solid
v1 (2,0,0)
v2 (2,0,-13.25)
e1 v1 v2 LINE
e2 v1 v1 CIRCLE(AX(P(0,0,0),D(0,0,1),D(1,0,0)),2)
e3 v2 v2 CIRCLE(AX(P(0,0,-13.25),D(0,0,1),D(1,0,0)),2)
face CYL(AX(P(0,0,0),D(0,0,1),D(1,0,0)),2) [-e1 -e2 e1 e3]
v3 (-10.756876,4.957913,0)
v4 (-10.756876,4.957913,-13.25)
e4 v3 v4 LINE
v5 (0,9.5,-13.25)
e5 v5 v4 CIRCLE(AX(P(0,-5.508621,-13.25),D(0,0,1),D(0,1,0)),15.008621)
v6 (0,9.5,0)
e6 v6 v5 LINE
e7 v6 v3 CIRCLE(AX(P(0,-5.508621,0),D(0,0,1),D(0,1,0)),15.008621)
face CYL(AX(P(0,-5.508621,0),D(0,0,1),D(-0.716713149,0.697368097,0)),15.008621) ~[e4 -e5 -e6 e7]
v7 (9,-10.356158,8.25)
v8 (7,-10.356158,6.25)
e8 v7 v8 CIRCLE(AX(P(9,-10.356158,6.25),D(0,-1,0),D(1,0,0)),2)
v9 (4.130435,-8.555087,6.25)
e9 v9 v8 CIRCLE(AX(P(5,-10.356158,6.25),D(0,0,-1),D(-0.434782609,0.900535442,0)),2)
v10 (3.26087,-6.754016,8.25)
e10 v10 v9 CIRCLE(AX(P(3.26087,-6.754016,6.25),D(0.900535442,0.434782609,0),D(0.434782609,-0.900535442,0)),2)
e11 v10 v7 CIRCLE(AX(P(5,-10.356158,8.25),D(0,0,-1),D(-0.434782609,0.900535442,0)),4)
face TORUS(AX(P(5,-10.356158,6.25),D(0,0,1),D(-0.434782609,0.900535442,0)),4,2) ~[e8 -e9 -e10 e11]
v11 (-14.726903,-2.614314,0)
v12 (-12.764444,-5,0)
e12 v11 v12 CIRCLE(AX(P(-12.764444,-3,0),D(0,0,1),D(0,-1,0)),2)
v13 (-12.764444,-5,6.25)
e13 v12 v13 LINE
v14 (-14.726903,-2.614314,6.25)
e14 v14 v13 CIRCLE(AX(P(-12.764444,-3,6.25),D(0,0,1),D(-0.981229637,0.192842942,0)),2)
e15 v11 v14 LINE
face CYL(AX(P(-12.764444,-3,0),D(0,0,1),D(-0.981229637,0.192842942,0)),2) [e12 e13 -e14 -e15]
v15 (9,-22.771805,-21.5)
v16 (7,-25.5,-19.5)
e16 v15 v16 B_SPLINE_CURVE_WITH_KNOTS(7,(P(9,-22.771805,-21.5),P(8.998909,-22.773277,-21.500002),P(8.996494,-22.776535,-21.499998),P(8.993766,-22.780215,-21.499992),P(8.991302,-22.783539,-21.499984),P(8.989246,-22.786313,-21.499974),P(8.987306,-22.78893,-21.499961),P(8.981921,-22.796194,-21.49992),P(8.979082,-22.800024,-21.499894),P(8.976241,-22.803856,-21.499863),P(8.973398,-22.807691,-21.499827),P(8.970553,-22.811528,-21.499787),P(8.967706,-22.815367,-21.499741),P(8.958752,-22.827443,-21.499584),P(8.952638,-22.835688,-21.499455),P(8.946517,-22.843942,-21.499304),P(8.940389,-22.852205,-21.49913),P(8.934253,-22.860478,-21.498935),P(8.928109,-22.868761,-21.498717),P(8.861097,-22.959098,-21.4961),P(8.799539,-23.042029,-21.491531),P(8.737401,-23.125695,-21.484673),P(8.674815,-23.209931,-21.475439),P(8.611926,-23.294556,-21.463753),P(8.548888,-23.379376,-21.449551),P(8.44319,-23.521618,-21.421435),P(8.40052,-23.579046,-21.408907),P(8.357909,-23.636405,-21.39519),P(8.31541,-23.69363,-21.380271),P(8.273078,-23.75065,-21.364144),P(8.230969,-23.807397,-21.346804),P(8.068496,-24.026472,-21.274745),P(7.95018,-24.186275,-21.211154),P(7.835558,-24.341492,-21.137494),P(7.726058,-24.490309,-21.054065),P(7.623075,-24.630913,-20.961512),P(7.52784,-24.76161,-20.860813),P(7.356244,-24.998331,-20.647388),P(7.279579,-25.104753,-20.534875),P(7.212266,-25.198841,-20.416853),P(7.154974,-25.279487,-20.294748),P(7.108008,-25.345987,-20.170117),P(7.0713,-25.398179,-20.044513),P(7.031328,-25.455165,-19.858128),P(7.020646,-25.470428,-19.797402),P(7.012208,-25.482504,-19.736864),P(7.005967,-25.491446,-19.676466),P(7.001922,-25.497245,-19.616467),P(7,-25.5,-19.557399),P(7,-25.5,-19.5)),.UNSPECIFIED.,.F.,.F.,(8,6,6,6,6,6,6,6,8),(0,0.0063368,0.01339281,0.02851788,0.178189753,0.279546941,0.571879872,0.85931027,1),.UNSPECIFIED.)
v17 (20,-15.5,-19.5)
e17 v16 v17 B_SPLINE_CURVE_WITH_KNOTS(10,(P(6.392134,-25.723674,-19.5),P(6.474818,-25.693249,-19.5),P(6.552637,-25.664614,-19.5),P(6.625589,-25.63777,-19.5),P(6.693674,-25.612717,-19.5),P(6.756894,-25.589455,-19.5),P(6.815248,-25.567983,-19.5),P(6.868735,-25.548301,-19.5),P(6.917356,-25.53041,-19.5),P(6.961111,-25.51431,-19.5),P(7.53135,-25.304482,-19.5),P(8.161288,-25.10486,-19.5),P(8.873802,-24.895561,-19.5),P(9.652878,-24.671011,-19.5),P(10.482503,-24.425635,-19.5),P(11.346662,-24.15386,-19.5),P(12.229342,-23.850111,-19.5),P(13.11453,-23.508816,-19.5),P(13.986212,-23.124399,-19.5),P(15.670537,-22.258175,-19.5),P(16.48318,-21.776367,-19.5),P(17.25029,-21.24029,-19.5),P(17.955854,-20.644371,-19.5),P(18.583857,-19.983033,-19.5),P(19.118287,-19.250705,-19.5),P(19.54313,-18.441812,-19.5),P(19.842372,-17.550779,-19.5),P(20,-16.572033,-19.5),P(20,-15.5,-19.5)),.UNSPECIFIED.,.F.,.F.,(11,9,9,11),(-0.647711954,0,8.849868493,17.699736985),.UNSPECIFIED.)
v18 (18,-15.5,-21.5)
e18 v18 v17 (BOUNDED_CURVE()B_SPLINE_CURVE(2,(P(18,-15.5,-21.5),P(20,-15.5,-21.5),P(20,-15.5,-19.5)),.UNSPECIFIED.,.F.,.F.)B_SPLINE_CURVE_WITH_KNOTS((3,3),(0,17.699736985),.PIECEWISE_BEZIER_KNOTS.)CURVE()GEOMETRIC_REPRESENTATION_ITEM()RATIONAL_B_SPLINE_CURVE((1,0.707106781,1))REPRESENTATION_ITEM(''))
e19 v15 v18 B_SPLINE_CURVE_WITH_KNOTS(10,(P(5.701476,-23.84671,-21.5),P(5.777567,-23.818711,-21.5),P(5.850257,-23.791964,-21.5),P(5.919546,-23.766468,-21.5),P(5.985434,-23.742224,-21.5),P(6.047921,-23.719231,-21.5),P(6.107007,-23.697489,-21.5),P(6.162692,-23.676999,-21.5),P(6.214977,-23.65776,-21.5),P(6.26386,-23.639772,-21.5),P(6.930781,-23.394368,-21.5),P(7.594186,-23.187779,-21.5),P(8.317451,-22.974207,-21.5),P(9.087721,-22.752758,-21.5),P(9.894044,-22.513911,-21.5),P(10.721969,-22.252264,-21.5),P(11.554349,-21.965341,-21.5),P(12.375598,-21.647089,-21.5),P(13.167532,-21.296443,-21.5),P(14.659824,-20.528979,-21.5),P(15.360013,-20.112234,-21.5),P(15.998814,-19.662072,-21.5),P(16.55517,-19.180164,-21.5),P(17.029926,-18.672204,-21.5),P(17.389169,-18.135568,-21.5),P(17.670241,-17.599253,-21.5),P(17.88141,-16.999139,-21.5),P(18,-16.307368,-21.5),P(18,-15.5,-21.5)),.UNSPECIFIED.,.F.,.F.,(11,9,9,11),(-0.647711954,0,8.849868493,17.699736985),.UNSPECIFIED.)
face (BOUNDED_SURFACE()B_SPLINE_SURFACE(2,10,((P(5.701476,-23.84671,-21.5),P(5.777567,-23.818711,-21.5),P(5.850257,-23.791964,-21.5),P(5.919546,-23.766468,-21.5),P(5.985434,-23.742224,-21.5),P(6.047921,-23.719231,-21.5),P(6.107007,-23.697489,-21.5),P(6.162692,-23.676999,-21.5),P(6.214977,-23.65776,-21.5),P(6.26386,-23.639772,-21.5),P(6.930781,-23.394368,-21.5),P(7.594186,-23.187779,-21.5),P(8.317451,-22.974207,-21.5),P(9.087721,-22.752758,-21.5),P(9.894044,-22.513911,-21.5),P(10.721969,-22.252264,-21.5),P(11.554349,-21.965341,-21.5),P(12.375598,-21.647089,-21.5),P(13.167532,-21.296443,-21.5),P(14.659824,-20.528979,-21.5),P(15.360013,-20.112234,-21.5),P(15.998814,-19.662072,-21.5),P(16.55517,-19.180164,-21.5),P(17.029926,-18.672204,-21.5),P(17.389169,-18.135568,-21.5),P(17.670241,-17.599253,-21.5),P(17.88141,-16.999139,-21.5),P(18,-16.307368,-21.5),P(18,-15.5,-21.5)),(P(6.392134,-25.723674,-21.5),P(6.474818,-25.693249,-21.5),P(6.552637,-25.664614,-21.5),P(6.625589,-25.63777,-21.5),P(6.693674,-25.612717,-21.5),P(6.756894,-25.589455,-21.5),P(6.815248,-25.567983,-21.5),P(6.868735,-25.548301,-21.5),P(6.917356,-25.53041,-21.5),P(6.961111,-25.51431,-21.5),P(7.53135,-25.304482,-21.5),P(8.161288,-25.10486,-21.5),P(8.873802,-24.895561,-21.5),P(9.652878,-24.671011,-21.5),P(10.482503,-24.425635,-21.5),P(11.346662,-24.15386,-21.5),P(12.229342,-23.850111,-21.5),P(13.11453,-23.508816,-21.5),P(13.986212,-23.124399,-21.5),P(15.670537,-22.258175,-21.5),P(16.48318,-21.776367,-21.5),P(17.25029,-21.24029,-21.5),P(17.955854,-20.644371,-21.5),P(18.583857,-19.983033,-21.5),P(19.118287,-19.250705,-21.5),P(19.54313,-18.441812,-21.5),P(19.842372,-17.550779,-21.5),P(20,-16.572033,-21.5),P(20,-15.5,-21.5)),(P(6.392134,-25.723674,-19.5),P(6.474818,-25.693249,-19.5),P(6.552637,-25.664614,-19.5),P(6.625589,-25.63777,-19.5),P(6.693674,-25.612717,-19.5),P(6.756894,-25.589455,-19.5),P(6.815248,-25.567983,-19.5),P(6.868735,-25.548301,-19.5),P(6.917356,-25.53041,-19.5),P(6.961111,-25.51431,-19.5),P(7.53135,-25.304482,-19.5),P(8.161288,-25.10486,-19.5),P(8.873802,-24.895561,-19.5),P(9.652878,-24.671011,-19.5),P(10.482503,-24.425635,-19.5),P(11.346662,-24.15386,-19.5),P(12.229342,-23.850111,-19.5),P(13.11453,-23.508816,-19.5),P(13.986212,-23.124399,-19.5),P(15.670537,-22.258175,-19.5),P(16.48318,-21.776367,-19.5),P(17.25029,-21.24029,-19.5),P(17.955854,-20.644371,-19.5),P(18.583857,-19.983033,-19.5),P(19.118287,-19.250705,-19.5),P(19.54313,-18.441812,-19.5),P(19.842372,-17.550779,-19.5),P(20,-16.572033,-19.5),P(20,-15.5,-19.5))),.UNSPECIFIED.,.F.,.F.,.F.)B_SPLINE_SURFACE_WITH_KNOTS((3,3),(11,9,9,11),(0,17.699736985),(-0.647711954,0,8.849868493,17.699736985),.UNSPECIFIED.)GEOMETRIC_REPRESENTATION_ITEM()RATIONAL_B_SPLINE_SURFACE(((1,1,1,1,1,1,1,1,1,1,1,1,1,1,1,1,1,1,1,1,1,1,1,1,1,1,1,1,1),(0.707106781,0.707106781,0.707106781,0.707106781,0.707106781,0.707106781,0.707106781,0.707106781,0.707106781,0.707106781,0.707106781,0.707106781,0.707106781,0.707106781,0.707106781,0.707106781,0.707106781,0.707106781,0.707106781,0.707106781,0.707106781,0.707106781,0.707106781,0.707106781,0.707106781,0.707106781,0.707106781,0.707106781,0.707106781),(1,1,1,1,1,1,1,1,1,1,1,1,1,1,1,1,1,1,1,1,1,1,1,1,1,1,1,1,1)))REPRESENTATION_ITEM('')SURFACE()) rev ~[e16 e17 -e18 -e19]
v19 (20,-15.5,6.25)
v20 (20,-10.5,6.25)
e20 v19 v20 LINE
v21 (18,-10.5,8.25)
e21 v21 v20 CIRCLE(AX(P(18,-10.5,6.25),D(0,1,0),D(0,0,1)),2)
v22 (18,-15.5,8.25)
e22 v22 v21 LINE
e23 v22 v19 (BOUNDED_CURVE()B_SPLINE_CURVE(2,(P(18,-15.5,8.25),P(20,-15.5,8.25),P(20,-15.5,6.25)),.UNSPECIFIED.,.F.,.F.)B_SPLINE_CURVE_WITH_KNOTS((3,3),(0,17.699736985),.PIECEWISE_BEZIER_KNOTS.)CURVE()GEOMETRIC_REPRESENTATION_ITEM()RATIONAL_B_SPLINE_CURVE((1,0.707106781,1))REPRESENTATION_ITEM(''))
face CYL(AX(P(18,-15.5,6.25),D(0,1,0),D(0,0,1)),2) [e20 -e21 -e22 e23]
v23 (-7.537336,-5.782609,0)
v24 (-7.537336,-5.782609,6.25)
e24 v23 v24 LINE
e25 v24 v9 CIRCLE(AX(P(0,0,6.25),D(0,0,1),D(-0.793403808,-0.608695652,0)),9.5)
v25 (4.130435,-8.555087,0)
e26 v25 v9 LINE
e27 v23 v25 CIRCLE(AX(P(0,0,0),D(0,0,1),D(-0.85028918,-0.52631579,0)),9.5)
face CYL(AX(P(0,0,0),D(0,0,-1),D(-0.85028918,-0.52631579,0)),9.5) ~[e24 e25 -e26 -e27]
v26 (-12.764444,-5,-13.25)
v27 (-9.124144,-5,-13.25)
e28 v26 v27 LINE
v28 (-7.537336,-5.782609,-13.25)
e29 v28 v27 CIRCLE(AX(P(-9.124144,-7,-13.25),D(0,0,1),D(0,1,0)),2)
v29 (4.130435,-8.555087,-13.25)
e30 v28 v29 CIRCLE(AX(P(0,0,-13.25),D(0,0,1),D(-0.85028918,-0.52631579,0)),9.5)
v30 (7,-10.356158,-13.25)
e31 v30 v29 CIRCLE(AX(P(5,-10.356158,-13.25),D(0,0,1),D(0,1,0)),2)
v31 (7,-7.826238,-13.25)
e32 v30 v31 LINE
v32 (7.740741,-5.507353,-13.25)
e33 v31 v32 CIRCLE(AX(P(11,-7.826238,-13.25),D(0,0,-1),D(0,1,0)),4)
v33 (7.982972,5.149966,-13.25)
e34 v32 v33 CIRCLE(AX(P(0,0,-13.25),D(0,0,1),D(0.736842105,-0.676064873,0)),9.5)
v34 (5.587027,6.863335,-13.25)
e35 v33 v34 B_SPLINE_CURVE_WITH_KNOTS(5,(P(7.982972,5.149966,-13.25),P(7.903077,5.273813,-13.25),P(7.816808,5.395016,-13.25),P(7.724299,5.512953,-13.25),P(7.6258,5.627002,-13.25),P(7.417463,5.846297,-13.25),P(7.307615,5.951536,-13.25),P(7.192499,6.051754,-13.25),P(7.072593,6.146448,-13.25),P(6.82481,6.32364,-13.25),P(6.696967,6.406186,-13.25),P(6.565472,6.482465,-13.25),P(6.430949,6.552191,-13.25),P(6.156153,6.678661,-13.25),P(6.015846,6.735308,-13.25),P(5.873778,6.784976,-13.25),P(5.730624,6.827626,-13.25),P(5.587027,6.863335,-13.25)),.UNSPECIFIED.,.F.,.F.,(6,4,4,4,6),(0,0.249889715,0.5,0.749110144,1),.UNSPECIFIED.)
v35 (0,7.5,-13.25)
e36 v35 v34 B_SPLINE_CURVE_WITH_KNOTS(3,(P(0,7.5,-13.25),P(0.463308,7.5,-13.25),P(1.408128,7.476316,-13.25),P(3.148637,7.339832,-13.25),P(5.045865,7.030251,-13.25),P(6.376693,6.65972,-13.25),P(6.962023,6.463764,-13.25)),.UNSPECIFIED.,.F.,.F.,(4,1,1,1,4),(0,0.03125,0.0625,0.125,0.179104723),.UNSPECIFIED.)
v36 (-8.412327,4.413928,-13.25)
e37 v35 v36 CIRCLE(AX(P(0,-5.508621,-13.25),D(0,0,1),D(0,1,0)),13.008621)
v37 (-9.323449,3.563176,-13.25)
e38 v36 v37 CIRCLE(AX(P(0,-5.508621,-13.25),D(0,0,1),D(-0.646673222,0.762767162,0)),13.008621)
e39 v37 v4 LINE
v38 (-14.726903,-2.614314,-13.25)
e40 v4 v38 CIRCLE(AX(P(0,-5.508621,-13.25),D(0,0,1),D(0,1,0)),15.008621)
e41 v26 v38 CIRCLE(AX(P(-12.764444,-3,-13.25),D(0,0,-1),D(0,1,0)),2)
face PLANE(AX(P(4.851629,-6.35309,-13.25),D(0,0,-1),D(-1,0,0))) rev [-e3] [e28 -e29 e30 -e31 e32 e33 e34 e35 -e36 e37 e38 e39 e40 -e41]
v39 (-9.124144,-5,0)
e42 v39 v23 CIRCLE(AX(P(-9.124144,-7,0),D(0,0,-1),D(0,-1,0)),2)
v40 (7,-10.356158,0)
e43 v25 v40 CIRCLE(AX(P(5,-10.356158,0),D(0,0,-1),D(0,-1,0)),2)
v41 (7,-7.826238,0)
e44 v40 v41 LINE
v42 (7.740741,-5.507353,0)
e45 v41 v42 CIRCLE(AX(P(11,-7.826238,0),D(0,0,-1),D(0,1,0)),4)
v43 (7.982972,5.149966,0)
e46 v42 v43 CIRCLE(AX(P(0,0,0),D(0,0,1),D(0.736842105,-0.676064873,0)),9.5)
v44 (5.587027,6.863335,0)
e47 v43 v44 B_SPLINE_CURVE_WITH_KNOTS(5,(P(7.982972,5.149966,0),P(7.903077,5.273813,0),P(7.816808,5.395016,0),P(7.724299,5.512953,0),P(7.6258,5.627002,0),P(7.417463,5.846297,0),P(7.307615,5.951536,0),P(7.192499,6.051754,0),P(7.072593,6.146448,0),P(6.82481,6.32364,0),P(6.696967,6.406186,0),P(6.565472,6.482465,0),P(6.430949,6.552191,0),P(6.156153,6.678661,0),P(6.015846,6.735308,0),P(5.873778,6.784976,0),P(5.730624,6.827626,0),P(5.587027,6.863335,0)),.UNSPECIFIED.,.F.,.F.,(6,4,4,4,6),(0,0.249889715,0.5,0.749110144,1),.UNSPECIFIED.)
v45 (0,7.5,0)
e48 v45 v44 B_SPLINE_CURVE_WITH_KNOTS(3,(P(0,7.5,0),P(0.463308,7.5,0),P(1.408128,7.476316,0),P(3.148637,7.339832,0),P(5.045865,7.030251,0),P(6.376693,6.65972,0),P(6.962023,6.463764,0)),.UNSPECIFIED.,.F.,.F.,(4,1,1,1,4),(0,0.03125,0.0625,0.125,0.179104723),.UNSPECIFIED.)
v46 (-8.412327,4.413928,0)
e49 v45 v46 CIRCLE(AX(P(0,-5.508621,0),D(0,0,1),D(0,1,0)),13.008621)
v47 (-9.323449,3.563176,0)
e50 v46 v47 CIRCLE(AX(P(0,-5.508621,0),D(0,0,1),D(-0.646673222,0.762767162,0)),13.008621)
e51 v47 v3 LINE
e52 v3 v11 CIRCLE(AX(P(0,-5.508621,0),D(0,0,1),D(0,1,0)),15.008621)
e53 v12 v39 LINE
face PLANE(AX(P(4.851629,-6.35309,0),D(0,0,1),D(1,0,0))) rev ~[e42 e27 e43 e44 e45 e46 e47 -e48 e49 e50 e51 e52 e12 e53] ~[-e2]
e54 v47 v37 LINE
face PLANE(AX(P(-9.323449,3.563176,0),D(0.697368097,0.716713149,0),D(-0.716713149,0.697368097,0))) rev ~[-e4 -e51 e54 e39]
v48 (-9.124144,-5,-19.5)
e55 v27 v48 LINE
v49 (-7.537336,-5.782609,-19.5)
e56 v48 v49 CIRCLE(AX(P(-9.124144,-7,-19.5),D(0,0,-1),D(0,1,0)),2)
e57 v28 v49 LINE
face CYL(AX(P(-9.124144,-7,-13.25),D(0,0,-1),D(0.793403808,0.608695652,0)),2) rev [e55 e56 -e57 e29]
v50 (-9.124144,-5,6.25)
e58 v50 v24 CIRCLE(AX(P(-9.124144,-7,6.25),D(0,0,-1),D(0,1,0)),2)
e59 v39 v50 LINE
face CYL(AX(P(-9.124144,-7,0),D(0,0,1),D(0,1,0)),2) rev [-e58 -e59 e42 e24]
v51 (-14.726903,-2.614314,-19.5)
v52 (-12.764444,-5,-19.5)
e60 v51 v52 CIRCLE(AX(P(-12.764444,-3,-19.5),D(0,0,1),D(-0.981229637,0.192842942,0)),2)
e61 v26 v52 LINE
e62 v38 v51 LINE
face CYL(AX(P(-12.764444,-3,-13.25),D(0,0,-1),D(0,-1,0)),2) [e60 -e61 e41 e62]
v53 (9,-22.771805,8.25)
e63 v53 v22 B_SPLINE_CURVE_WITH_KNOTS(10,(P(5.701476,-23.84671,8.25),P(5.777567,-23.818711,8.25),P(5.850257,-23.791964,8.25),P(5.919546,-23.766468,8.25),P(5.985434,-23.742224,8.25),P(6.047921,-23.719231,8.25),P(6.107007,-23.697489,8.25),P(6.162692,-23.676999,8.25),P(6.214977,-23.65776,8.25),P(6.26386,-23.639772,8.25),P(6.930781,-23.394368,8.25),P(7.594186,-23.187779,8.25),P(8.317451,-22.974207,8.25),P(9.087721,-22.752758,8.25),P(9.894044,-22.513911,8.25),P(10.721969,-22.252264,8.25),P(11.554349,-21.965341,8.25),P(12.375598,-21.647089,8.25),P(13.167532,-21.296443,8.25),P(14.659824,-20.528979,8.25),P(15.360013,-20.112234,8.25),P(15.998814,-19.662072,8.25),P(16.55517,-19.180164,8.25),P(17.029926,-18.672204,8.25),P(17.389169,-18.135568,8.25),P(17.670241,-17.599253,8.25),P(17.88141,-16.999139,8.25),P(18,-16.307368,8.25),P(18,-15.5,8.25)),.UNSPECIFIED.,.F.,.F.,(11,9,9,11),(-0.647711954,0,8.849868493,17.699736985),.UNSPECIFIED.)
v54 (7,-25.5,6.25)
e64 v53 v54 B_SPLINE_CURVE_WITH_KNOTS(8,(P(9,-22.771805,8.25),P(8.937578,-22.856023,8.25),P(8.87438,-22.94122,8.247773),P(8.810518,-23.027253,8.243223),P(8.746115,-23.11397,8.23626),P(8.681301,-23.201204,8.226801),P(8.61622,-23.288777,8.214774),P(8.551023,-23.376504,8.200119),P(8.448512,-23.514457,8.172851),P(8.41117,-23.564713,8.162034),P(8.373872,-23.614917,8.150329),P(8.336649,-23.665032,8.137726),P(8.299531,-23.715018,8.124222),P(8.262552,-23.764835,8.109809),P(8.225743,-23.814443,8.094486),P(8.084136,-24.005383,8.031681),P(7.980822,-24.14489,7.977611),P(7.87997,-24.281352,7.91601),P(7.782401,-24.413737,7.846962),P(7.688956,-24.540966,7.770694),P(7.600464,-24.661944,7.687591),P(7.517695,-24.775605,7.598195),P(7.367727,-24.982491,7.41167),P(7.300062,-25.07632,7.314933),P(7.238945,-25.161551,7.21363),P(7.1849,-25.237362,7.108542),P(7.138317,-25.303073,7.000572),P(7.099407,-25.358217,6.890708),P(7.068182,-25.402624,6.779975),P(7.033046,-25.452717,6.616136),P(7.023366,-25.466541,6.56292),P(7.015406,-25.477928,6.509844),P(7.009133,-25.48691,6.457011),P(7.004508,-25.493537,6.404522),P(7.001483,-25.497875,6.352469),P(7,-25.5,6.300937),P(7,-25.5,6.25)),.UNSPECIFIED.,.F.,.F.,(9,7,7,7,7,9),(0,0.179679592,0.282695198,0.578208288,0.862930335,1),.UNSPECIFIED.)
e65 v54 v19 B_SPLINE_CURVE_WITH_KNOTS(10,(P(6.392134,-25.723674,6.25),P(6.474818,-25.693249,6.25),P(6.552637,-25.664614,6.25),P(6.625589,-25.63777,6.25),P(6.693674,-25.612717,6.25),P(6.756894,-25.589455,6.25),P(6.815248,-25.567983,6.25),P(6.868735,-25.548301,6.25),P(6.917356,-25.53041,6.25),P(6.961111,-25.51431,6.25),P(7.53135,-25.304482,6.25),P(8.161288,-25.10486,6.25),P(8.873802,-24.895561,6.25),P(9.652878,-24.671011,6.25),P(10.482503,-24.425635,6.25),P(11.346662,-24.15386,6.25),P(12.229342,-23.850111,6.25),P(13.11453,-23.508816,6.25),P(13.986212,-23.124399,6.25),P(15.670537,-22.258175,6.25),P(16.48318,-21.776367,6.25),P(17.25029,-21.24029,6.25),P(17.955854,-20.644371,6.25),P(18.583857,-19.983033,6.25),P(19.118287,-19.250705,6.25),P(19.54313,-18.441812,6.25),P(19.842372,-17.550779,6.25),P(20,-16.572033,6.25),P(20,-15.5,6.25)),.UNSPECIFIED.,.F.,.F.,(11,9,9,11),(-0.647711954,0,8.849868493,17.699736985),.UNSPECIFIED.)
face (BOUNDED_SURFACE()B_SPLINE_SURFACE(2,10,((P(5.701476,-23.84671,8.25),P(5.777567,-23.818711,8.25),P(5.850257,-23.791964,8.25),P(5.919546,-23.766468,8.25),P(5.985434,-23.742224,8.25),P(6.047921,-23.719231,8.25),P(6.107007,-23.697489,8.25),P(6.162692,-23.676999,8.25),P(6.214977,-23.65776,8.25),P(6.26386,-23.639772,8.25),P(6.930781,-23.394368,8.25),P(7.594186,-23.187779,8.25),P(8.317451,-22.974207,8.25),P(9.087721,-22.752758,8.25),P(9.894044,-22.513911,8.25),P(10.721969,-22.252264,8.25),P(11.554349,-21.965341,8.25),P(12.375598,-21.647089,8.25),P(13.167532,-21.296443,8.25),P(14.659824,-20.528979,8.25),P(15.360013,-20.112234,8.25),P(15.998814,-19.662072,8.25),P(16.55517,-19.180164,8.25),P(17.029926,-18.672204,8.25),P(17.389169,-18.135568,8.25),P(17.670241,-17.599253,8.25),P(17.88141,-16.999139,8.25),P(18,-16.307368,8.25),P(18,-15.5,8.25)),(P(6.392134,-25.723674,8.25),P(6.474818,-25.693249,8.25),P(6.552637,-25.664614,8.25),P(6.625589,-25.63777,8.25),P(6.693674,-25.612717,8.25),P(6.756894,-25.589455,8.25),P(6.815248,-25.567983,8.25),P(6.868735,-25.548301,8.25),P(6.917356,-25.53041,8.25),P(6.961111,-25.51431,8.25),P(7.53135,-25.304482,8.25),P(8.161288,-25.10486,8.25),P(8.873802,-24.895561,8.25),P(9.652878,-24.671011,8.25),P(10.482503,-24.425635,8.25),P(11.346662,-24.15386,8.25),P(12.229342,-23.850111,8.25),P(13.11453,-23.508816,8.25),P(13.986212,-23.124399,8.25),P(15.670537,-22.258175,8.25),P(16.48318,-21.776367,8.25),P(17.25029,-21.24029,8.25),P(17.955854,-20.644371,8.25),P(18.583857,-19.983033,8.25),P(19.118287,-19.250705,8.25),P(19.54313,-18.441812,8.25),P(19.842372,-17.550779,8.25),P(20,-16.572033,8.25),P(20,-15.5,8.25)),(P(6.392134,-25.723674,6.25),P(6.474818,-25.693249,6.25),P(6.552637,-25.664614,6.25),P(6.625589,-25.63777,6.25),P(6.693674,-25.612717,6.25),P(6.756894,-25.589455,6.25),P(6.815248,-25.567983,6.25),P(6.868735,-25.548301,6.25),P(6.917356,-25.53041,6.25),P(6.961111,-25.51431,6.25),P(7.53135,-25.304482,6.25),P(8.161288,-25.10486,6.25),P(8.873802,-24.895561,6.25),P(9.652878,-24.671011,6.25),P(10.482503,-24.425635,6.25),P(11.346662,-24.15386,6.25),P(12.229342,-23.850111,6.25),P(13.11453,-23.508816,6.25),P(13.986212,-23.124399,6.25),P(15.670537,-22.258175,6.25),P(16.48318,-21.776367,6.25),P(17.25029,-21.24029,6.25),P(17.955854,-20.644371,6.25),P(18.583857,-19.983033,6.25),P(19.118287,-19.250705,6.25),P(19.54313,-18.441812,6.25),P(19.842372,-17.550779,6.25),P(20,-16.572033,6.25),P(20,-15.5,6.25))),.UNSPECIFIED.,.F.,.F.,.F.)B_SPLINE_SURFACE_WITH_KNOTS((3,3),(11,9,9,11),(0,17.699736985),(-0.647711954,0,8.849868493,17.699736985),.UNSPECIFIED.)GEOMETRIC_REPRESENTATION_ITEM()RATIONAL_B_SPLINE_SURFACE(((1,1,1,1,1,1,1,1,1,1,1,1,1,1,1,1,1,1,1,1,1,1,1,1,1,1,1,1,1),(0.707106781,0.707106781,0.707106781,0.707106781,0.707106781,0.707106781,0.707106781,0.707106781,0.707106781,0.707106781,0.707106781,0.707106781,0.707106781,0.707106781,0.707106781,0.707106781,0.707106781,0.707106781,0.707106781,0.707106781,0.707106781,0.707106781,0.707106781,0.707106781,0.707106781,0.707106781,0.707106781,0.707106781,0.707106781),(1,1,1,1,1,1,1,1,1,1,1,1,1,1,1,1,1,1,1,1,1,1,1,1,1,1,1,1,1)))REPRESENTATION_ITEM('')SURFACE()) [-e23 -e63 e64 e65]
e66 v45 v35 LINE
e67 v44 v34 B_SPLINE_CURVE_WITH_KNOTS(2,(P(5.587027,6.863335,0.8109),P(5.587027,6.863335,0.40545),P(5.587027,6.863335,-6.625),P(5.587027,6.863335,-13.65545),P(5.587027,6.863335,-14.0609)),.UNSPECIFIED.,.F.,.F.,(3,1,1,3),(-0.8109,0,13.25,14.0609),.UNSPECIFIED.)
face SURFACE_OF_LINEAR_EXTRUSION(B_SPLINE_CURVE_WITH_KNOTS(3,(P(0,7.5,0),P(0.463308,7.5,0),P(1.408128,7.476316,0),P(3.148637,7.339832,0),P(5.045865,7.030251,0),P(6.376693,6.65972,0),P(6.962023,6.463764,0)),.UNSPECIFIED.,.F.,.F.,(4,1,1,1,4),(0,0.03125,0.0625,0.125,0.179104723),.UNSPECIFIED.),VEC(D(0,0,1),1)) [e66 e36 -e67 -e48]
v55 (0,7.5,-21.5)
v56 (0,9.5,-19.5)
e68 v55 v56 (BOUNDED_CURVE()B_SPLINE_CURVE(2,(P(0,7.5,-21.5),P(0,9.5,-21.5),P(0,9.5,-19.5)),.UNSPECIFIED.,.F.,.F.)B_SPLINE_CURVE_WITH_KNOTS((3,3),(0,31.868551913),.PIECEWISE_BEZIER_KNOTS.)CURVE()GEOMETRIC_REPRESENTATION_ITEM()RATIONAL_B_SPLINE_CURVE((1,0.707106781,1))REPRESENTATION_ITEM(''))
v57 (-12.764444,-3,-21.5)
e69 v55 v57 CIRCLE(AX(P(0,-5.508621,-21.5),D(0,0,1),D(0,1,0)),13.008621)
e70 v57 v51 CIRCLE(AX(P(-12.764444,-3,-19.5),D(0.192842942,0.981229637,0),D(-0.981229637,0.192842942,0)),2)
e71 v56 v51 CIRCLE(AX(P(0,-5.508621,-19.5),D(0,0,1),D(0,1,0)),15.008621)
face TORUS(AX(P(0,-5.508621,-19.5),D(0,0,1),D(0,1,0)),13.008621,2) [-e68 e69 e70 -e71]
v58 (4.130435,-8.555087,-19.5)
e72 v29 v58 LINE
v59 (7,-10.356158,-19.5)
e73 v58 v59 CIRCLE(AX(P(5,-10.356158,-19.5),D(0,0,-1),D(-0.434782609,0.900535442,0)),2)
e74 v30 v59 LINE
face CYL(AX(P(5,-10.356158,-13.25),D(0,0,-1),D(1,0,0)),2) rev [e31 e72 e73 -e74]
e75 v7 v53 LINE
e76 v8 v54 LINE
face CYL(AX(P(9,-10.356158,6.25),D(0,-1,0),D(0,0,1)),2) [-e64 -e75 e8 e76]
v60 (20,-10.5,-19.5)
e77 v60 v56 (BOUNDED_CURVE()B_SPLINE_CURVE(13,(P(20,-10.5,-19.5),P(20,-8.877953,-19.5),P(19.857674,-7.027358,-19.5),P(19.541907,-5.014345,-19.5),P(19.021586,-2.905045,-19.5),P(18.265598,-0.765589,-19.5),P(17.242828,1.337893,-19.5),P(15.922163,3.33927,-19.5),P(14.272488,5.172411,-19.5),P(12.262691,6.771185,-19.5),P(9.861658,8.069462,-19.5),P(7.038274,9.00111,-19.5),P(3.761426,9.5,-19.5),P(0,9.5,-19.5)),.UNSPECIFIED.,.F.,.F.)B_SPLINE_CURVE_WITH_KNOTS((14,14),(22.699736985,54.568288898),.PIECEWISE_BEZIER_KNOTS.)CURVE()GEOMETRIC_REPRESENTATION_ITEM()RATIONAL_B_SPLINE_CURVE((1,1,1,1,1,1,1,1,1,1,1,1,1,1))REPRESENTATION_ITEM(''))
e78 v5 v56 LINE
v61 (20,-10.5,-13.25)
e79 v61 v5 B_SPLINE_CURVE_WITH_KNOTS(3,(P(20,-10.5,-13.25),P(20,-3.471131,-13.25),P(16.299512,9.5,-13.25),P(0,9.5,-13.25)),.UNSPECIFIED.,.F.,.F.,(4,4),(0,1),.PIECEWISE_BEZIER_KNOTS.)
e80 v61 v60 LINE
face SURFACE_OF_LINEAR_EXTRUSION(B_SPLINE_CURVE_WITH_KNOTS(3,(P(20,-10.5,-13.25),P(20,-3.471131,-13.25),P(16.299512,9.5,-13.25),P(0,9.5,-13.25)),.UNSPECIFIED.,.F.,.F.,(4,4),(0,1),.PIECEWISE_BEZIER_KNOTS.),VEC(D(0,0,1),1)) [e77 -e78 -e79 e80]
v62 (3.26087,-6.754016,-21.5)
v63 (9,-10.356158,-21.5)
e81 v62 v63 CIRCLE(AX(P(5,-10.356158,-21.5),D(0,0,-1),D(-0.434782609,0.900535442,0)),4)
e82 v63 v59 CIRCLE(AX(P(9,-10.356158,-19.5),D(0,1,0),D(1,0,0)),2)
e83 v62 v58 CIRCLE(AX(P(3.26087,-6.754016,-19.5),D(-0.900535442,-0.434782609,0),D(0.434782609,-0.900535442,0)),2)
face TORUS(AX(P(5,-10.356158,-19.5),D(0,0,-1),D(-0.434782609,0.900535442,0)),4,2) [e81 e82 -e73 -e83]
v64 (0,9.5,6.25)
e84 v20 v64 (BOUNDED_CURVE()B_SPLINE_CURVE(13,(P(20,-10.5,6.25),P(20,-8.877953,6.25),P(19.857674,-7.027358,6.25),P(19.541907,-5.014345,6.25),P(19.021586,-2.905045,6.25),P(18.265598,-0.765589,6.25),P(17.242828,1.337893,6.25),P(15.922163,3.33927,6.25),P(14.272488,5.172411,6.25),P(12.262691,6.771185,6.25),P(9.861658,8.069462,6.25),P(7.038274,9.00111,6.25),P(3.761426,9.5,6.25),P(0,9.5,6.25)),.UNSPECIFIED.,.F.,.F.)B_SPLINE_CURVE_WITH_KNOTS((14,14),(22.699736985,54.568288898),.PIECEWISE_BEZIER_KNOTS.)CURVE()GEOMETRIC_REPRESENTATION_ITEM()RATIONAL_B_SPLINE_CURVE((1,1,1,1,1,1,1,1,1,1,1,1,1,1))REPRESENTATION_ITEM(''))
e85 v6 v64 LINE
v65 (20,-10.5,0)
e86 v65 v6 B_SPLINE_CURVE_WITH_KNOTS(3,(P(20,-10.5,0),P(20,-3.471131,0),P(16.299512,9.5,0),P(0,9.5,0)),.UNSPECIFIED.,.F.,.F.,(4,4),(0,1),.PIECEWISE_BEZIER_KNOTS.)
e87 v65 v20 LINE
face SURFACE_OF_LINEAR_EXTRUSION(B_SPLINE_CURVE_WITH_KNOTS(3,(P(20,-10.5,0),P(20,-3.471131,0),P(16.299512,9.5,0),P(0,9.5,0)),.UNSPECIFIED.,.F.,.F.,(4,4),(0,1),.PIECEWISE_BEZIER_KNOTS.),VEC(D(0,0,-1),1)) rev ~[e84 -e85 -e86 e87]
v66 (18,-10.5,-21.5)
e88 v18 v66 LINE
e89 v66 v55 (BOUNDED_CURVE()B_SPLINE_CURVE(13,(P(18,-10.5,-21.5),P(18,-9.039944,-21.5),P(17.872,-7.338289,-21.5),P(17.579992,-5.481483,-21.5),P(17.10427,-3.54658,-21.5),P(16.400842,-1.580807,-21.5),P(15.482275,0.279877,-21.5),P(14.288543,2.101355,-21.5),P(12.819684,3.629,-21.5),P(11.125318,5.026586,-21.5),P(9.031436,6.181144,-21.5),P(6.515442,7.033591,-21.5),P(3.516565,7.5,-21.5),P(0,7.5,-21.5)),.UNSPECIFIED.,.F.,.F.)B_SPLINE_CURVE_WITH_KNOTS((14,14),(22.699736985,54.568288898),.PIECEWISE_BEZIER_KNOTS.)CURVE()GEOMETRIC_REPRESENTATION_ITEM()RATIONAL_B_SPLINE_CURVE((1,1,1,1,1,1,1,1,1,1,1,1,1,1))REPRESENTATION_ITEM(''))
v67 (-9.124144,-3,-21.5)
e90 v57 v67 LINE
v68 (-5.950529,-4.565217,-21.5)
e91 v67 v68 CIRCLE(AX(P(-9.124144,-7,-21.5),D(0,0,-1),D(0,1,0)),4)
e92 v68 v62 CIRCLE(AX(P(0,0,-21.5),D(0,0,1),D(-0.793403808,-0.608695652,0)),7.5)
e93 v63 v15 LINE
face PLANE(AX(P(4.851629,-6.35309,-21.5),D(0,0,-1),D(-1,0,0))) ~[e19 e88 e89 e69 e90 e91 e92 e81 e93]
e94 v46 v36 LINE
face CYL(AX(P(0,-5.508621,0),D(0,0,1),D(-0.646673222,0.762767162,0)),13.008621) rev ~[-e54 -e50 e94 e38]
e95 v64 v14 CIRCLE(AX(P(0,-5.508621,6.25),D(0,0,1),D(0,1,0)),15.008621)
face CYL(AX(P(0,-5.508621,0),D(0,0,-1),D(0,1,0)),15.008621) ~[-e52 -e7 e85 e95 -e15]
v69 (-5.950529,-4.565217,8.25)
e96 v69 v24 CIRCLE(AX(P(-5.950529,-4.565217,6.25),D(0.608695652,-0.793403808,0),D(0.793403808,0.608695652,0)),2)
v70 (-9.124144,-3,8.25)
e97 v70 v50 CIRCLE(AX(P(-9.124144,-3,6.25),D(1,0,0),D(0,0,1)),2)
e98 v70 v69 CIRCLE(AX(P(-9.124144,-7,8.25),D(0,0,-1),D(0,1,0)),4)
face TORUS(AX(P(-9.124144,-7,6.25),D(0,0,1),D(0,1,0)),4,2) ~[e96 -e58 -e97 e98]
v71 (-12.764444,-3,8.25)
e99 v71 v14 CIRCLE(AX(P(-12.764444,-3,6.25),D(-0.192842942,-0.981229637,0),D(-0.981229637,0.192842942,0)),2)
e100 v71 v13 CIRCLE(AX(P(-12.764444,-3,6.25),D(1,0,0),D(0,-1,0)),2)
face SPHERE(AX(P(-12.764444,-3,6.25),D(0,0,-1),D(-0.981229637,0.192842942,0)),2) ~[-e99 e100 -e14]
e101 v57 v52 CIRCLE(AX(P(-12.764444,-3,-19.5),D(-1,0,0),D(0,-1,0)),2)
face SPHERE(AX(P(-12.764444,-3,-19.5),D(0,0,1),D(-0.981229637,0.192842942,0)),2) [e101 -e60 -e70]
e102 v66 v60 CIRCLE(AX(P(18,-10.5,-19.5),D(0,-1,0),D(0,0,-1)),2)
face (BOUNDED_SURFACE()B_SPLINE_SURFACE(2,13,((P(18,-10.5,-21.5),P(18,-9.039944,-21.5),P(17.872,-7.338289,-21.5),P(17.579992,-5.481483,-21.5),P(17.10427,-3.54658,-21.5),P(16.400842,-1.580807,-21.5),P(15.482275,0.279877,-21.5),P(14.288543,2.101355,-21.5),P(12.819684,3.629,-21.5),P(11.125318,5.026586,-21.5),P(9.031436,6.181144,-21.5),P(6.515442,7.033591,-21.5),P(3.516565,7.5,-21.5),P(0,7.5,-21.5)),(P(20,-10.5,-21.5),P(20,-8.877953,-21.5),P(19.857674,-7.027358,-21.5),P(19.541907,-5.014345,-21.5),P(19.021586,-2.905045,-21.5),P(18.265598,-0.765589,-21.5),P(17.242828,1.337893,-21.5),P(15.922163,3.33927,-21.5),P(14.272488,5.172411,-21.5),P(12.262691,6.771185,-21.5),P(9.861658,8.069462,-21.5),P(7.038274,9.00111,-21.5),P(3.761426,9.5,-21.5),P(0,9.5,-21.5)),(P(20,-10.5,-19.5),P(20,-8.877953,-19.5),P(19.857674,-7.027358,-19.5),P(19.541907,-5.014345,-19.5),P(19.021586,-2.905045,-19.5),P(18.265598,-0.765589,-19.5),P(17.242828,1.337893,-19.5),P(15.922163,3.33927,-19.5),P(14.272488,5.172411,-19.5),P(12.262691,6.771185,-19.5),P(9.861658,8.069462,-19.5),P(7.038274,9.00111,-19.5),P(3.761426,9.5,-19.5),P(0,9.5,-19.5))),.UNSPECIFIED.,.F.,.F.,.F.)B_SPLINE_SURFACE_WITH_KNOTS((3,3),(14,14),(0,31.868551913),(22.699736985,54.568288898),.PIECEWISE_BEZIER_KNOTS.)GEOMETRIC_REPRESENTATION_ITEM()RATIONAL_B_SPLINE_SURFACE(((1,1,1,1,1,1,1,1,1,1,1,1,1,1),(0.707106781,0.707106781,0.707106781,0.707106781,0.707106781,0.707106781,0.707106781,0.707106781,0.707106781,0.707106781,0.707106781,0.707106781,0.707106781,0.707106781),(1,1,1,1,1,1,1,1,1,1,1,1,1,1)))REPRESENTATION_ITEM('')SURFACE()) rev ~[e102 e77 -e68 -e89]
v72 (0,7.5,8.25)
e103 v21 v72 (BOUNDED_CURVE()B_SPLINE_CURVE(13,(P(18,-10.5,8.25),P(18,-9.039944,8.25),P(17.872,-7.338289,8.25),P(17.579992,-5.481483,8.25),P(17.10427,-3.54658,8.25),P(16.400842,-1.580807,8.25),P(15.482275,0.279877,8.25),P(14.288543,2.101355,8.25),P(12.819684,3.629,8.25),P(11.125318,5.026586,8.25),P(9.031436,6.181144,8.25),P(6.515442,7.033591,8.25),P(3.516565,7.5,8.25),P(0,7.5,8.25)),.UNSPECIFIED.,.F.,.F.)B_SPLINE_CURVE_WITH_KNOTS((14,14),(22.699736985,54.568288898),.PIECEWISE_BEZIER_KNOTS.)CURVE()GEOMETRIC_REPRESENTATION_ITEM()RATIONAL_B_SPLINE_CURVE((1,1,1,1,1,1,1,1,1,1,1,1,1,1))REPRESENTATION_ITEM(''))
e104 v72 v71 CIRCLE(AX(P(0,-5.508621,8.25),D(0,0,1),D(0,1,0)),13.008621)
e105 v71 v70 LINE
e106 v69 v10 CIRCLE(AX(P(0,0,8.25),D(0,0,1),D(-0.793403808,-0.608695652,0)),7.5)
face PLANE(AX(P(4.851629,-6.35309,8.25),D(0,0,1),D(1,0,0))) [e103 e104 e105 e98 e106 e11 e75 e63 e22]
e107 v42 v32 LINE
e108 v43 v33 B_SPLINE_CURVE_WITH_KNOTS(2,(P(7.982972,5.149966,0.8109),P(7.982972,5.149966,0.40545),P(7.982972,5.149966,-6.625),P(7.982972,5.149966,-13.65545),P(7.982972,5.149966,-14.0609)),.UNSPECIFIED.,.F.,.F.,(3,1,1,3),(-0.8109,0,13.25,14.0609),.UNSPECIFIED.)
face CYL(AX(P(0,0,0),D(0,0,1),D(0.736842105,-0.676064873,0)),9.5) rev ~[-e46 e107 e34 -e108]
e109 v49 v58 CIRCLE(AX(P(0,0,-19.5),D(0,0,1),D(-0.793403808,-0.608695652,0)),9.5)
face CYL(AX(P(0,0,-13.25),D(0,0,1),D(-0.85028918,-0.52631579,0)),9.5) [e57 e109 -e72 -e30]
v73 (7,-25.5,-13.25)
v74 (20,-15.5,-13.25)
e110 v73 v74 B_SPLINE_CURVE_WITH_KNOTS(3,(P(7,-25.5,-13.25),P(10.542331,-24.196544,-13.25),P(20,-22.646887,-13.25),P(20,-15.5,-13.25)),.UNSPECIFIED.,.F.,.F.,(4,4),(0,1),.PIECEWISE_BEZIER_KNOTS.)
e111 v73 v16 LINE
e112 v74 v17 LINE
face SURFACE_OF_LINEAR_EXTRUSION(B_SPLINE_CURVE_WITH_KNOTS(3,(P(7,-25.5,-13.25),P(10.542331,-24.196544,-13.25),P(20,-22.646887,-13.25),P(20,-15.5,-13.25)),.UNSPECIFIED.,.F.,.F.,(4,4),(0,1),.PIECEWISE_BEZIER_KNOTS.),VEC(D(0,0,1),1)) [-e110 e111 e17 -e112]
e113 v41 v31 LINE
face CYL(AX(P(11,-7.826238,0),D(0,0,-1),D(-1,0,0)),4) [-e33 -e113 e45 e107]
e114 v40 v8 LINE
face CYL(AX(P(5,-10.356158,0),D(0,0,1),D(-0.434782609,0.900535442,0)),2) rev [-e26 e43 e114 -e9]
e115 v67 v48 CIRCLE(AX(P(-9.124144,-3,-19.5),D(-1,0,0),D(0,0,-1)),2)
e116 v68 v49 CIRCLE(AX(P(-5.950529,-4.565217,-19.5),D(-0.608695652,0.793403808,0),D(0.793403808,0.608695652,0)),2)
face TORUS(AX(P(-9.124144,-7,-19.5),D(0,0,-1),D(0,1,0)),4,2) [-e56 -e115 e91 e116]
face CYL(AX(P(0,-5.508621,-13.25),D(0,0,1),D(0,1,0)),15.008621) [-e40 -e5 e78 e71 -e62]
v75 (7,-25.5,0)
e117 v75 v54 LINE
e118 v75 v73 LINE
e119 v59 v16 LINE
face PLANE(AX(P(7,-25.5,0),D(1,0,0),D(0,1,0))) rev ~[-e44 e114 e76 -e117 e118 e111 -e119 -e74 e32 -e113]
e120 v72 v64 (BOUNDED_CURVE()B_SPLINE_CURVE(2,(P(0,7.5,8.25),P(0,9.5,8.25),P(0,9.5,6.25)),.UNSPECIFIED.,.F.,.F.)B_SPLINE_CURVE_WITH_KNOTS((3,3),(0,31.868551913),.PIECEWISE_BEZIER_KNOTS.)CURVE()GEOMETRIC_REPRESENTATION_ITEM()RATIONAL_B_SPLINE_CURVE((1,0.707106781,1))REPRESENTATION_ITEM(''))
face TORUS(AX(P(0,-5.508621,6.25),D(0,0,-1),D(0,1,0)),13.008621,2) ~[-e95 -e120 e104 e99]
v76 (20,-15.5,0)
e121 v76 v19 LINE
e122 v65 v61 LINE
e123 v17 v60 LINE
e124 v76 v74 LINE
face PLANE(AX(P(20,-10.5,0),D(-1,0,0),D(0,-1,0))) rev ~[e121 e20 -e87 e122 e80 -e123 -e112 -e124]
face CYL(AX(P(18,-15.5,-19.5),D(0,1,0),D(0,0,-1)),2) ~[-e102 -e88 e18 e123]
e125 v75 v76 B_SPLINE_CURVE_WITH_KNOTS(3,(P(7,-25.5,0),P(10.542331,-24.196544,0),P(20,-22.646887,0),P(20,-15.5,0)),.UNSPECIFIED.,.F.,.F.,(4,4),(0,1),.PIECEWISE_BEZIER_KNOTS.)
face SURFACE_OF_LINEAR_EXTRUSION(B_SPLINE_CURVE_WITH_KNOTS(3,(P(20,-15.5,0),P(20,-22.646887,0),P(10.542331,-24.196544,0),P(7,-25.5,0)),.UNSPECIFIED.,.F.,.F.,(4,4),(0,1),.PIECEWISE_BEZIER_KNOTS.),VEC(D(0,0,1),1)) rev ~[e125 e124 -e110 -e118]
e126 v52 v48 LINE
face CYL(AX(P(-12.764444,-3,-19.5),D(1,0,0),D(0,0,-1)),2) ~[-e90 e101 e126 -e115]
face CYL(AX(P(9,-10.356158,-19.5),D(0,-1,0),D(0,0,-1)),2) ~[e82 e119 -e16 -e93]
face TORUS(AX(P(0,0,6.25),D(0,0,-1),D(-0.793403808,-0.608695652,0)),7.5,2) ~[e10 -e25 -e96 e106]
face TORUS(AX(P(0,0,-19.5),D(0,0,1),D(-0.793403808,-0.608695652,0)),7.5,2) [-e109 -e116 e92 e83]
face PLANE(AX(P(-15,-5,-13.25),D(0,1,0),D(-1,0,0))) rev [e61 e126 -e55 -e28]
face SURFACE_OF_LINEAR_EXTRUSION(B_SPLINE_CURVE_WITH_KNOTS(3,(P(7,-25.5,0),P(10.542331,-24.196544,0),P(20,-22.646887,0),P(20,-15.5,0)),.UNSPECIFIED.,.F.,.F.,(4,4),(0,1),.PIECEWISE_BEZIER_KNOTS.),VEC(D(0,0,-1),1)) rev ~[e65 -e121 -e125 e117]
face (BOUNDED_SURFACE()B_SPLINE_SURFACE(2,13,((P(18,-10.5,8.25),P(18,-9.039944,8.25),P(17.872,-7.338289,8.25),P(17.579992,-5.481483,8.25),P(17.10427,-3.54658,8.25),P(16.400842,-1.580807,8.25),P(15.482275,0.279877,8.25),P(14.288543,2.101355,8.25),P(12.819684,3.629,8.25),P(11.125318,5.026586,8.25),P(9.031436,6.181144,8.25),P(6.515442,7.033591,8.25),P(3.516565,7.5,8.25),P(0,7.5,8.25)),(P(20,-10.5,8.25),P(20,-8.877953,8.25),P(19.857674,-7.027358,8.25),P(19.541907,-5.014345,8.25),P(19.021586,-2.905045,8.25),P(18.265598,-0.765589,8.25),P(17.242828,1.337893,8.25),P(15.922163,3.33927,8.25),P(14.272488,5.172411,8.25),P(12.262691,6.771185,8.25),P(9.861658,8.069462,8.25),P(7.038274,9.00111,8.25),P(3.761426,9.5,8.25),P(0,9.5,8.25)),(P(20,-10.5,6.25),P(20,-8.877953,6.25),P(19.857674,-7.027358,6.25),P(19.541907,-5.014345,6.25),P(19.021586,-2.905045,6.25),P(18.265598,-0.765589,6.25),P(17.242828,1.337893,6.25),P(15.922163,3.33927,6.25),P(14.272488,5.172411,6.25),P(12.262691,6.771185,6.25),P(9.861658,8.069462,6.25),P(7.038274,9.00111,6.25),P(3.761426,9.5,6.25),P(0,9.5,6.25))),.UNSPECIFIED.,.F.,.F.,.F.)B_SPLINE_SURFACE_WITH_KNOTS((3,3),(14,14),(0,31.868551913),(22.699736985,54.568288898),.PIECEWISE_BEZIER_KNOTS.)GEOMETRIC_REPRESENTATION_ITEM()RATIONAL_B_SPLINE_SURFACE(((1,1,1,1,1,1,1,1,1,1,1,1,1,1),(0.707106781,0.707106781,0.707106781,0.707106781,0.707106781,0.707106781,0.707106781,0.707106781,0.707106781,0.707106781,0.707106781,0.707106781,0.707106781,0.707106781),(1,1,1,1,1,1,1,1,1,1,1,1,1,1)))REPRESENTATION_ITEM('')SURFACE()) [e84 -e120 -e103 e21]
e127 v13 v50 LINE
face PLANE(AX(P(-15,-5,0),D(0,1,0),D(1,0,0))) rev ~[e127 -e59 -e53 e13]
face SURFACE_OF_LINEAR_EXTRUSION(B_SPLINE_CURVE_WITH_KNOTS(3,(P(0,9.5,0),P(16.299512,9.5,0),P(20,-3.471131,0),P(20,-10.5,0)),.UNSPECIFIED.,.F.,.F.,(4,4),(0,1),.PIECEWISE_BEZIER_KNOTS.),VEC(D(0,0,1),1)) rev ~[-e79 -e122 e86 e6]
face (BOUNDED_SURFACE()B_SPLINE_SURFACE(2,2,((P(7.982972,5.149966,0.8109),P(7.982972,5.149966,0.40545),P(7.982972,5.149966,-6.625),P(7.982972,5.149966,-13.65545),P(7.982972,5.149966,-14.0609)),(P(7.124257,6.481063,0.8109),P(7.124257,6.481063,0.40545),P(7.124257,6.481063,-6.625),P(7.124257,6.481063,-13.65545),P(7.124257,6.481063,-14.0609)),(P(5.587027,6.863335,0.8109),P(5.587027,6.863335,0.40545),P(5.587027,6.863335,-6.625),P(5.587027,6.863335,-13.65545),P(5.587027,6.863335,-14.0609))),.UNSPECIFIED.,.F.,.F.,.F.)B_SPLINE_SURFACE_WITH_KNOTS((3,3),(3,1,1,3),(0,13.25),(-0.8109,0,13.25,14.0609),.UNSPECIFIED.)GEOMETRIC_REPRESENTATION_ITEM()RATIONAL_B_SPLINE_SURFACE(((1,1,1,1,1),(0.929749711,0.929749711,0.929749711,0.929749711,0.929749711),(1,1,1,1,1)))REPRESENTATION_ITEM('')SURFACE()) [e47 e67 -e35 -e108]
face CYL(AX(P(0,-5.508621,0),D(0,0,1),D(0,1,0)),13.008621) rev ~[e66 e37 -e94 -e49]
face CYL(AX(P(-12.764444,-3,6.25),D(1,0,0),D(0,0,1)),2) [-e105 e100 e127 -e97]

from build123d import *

# Parameters (mm, degrees)
SKETCH1_R            = 2
BOSS_EXTRUDE1_DEPTH  = 8.25
FILLET1_R            = 2
SKETCH1_3_R          = 2
BOSS_EXTRUDE2_DEPTH  = 13.25
FILLET1_OF_MIRROR1_R = 2
BOSS_EXTRUDE3_DEPTH  = 13.25
FILLET5_R            = 4
FILLET6_R            = 2


with BuildPart() as part:
    # Sketch1 → Boss-Extrude1 (new body)
    with BuildSketch(Plane.XY):
        with BuildLine():
            Line((7, -15.5), (7, -25.5))
            add(Edge.make_bspline(
                [(7, -25.5), (10.542331325, -24.196544486), (20, -22.646886742), (20, -15.5)],
                knots=[0, 0, 0, 0, 1, 1, 1, 1], degree=3))
            Line((20, -15.5), (20, -10.5))
            add(Edge.make_bspline(
                [(20, -10.5), (20, -3.471131344), (16.29951196, 9.5), (0, 9.5)],
                knots=[0, 0, 0, 0, 1, 1, 1, 1], degree=3))
            ThreePointArc((0, 9.5), (-10.431323023, 5.282403127), (-15, -5))
            Line((-15, -5), (-8.077747211, -5))
            ThreePointArc((-8.077747211, -5), (-0.892381106, -9.457994288), (7, -6.422616289))
            Line((7, -6.422616289), (7, -15.5))
        make_face()
        Circle(SKETCH1_R, mode=Mode.SUBTRACT)
        Circle(SKETCH1_R)
    boss_extrude1 = extrude(amount=BOSS_EXTRUDE1_DEPTH)

    # Fillet1
    fillet1_edges = [part.edges().sort_by_distance(p)[0] for p in [
        (7, -6.422616289, 4.125),
        (-8.077747211, -5, 4.125),
        (-15, -5, 4.125),
    ]]
    fillet(fillet1_edges, radius=FILLET1_R)

    # Sketch1<3> → Boss-Extrude2 (add)
    with BuildSketch(Plane.XY):
        Circle(SKETCH1_3_R)
    extrude(amount=-BOSS_EXTRUDE2_DEPTH)

    # Mirror1: Boss-Extrude1 across plane
    add(boss_extrude1.mirror(Plane(origin=(0, 0, -6.625), x_dir=(1, 0, 0), z_dir=(0, 0, -1))))

    # Fillet1 of Mirror1
    fillet1_of_mirror1_edges = [part.edges().sort_by_distance(p)[0] for p in [
        (7, -6.422616289, -17.375),
        (-8.077747211, -5, -17.375),
        (-15, -5, -17.375),
    ]]
    fillet(fillet1_of_mirror1_edges, radius=FILLET1_OF_MIRROR1_R)

    # Sketch2 → Boss-Extrude3 (add)
    with BuildSketch(Plane(origin=(0, 0, 0), x_dir=(-1, 0, 0), z_dir=(0, 0, -1))):
        with BuildLine():
            Line((-7, -25.5), (-7, -10.356157589))
            Line((-7, -10.356157589), (-7, -6.892055973))
            ThreePointArc((-7, -6.892055973), (-8.464101615, -8.356157589), (-9, -10.356157589))
            Line((-9, -10.356157589), (-9, -22.771805639))
            add(Edge.make_bspline(
                [(-18, -15.5), (-18, -15.755810099), (-17.96384044, -16.287511283), (-17.769644463, -17.176482985), (-17.326663811, -18.150730827), (-16.473613849, -19.194167826), (-14.905607021, -20.459045473), (-12.82414289, -21.481239618), (-10.597371428, -22.278497003), (-9.539012997, -22.607951452), (-9, -22.771805639)],
                knots=[0, 0, 0, 0, 0.050516154, 0.101032309, 0.202064618, 0.303096927, 0.404129236, 0.606193854, 0.707226163, 0.808258472, 0.808258472, 0.808258472, 0.808258472], degree=3))
            Line((-18, -15.5), (-18, -10.5))
            add(Edge.make_bspline(
                [(-6.962022671, 6.463763635), (-7.052846693, 6.433357714), (-7.813282932, 6.171704453), (-9.764374575, 5.337056232), (-12.300959997, 3.59990947), (-14.595833208, 1.024905795), (-16.245773011, -1.88869544), (-17.142002116, -4.439111746), (-17.608268155, -6.440579265), (-17.843029574, -7.893234579), (-17.952096873, -9.034515744), (-17.993489628, -9.897259581), (-18, -10.296370516), (-18, -10.5)],
                knots=[0.179104723, 0.179104723, 0.179104723, 0.179104723, 0.1875, 0.25, 0.375, 0.5, 0.625, 0.75, 0.8125, 0.875, 0.9375, 0.96875, 1, 1, 1, 1], degree=3))
            ThreePointArc((-6.962022671, 6.463763635), (-3.797646999, 8.707920376), (0, 9.5))
            add(Edge.make_bspline(
                [(0, 9.5), (-16.29951196, 9.5), (-20, -3.471131344), (-20, -10.5)],
                knots=[0, 0, 0, 0, 1, 1, 1, 1], degree=3))
            Line((-20, -10.5), (-20, -15.5))
            add(Edge.make_bspline(
                [(-20, -15.5), (-20, -22.646886742), (-10.542331325, -24.196544486), (-7, -25.5)],
                knots=[0, 0, 0, 0, 1, 1, 1, 1], degree=3))
        make_face()
        with BuildLine():
            ThreePointArc((-9, -10.356157589), (-8.464101615, -8.356157589), (-7, -6.892055973))
            Line((-7, -6.892055973), (-7, -6.422616289))
            ThreePointArc((-7, -6.422616289), (-9.499958745, 0.027997239), (-6.962022671, 6.463763635))
            add(Edge.make_bspline(
                [(-6.962022671, 6.463763635), (-7.052846693, 6.433357714), (-7.813282932, 6.171704453), (-9.764374575, 5.337056232), (-12.300959997, 3.59990947), (-14.595833208, 1.024905795), (-16.245773011, -1.88869544), (-17.142002116, -4.439111746), (-17.608268155, -6.440579265), (-17.843029574, -7.893234579), (-17.952096873, -9.034515744), (-17.993489628, -9.897259581), (-18, -10.296370516), (-18, -10.5)],
                knots=[0.179104723, 0.179104723, 0.179104723, 0.179104723, 0.1875, 0.25, 0.375, 0.5, 0.625, 0.75, 0.8125, 0.875, 0.9375, 0.96875, 1, 1, 1, 1], degree=3))
            Line((-18, -10.5), (-18, -15.5))
            add(Edge.make_bspline(
                [(-18, -15.5), (-18, -15.755810099), (-17.96384044, -16.287511283), (-17.769644463, -17.176482985), (-17.326663811, -18.150730827), (-16.473613849, -19.194167826), (-14.905607021, -20.459045473), (-12.82414289, -21.481239618), (-10.597371428, -22.278497003), (-9.539012997, -22.607951452), (-9, -22.771805639)],
                knots=[0, 0, 0, 0, 0.050516154, 0.101032309, 0.202064618, 0.303096927, 0.404129236, 0.606193854, 0.707226163, 0.808258472, 0.808258472, 0.808258472, 0.808258472], degree=3))
            Line((-9, -22.771805639), (-9, -10.356157589))
        make_face()
        with BuildLine():
            ThreePointArc((0, 9.5), (-3.797646999, 8.707920376), (-6.962022671, 6.463763635))
            add(Edge.make_bspline(
                [(0, 7.5), (-0.46330758, 7.5), (-1.408127817, 7.476315508), (-3.148637138, 7.339831525), (-5.045865316, 7.030251245), (-6.376692574, 6.659719511), (-6.962022671, 6.463763635)],
                knots=[0, 0, 0, 0, 0.03125, 0.0625, 0.125, 0.179104723, 0.179104723, 0.179104723, 0.179104723], degree=3))
            ThreePointArc((0, 7.5), (4.480264496, 6.704136669), (8.41232664, 4.413928013))
            ThreePointArc((8.41232664, 4.413928013), (4.915164488, 8.129646859), (0, 9.5))
        make_face()
        with BuildLine():
            ThreePointArc((10.756875796, 4.957912553), (5.83825606, 8.317928453), (0, 9.5))
            ThreePointArc((0, 9.5), (4.915164488, 8.129646859), (8.41232664, 4.413928013))
            ThreePointArc((8.41232664, 4.413928013), (8.878084444, 3.999472118), (9.323449498, 3.563176359))
            Line((9.323449498, 3.563176359), (10.756875796, 4.957912553))
        make_face()
    extrude(amount=BOSS_EXTRUDE3_DEPTH)

    # Fillet5
    fillet5_edges = [part.edges().sort_by_distance(p)[0] for p in [
        (6.962022671, 6.463763635, -6.625),
        (7, -6.422616289, -6.625),
    ]]
    fillet(fillet5_edges, radius=FILLET5_R)

    # Fillet6
    fillet6_edges = [part.edges().sort_by_distance(p)[0] for p in [
        (15.288594231, -22.445576253, 8.25),
        (20, -13, 8.25),
        (14.507114548, 4.059861745, 8.25),
        (-10.944293973, -5, 8.25),
        (-9.53465116, 6.082286189, 8.25),
        (7, -17.928078794, 8.25),
        (-2.196224683, -9.24265098, 8.25),
        (-14.30901072, -4.270556616, 8.25),
        (6.063219066, -8.662178481, 8.25),
        (-8.239492059, -5.206291187, 8.25),
        (14.507114548, 4.059861745, -21.5),
        (20, -13, -21.5),
        (15.288594231, -22.445576253, -21.5),
        (-9.53465116, 6.082286189, -21.5),
        (-10.944293973, -5, -21.5),
        (7, -17.928078794, -21.5),
        (-2.196224683, -9.24265098, -21.5),
        (-14.30901072, -4.270556616, -21.5),
        (6.063219066, -8.662178481, -21.5),
        (-8.239492059, -5.206291187, -21.5),
    ]]
    fillet(fillet6_edges, radius=FILLET6_R)


solid = part.part
